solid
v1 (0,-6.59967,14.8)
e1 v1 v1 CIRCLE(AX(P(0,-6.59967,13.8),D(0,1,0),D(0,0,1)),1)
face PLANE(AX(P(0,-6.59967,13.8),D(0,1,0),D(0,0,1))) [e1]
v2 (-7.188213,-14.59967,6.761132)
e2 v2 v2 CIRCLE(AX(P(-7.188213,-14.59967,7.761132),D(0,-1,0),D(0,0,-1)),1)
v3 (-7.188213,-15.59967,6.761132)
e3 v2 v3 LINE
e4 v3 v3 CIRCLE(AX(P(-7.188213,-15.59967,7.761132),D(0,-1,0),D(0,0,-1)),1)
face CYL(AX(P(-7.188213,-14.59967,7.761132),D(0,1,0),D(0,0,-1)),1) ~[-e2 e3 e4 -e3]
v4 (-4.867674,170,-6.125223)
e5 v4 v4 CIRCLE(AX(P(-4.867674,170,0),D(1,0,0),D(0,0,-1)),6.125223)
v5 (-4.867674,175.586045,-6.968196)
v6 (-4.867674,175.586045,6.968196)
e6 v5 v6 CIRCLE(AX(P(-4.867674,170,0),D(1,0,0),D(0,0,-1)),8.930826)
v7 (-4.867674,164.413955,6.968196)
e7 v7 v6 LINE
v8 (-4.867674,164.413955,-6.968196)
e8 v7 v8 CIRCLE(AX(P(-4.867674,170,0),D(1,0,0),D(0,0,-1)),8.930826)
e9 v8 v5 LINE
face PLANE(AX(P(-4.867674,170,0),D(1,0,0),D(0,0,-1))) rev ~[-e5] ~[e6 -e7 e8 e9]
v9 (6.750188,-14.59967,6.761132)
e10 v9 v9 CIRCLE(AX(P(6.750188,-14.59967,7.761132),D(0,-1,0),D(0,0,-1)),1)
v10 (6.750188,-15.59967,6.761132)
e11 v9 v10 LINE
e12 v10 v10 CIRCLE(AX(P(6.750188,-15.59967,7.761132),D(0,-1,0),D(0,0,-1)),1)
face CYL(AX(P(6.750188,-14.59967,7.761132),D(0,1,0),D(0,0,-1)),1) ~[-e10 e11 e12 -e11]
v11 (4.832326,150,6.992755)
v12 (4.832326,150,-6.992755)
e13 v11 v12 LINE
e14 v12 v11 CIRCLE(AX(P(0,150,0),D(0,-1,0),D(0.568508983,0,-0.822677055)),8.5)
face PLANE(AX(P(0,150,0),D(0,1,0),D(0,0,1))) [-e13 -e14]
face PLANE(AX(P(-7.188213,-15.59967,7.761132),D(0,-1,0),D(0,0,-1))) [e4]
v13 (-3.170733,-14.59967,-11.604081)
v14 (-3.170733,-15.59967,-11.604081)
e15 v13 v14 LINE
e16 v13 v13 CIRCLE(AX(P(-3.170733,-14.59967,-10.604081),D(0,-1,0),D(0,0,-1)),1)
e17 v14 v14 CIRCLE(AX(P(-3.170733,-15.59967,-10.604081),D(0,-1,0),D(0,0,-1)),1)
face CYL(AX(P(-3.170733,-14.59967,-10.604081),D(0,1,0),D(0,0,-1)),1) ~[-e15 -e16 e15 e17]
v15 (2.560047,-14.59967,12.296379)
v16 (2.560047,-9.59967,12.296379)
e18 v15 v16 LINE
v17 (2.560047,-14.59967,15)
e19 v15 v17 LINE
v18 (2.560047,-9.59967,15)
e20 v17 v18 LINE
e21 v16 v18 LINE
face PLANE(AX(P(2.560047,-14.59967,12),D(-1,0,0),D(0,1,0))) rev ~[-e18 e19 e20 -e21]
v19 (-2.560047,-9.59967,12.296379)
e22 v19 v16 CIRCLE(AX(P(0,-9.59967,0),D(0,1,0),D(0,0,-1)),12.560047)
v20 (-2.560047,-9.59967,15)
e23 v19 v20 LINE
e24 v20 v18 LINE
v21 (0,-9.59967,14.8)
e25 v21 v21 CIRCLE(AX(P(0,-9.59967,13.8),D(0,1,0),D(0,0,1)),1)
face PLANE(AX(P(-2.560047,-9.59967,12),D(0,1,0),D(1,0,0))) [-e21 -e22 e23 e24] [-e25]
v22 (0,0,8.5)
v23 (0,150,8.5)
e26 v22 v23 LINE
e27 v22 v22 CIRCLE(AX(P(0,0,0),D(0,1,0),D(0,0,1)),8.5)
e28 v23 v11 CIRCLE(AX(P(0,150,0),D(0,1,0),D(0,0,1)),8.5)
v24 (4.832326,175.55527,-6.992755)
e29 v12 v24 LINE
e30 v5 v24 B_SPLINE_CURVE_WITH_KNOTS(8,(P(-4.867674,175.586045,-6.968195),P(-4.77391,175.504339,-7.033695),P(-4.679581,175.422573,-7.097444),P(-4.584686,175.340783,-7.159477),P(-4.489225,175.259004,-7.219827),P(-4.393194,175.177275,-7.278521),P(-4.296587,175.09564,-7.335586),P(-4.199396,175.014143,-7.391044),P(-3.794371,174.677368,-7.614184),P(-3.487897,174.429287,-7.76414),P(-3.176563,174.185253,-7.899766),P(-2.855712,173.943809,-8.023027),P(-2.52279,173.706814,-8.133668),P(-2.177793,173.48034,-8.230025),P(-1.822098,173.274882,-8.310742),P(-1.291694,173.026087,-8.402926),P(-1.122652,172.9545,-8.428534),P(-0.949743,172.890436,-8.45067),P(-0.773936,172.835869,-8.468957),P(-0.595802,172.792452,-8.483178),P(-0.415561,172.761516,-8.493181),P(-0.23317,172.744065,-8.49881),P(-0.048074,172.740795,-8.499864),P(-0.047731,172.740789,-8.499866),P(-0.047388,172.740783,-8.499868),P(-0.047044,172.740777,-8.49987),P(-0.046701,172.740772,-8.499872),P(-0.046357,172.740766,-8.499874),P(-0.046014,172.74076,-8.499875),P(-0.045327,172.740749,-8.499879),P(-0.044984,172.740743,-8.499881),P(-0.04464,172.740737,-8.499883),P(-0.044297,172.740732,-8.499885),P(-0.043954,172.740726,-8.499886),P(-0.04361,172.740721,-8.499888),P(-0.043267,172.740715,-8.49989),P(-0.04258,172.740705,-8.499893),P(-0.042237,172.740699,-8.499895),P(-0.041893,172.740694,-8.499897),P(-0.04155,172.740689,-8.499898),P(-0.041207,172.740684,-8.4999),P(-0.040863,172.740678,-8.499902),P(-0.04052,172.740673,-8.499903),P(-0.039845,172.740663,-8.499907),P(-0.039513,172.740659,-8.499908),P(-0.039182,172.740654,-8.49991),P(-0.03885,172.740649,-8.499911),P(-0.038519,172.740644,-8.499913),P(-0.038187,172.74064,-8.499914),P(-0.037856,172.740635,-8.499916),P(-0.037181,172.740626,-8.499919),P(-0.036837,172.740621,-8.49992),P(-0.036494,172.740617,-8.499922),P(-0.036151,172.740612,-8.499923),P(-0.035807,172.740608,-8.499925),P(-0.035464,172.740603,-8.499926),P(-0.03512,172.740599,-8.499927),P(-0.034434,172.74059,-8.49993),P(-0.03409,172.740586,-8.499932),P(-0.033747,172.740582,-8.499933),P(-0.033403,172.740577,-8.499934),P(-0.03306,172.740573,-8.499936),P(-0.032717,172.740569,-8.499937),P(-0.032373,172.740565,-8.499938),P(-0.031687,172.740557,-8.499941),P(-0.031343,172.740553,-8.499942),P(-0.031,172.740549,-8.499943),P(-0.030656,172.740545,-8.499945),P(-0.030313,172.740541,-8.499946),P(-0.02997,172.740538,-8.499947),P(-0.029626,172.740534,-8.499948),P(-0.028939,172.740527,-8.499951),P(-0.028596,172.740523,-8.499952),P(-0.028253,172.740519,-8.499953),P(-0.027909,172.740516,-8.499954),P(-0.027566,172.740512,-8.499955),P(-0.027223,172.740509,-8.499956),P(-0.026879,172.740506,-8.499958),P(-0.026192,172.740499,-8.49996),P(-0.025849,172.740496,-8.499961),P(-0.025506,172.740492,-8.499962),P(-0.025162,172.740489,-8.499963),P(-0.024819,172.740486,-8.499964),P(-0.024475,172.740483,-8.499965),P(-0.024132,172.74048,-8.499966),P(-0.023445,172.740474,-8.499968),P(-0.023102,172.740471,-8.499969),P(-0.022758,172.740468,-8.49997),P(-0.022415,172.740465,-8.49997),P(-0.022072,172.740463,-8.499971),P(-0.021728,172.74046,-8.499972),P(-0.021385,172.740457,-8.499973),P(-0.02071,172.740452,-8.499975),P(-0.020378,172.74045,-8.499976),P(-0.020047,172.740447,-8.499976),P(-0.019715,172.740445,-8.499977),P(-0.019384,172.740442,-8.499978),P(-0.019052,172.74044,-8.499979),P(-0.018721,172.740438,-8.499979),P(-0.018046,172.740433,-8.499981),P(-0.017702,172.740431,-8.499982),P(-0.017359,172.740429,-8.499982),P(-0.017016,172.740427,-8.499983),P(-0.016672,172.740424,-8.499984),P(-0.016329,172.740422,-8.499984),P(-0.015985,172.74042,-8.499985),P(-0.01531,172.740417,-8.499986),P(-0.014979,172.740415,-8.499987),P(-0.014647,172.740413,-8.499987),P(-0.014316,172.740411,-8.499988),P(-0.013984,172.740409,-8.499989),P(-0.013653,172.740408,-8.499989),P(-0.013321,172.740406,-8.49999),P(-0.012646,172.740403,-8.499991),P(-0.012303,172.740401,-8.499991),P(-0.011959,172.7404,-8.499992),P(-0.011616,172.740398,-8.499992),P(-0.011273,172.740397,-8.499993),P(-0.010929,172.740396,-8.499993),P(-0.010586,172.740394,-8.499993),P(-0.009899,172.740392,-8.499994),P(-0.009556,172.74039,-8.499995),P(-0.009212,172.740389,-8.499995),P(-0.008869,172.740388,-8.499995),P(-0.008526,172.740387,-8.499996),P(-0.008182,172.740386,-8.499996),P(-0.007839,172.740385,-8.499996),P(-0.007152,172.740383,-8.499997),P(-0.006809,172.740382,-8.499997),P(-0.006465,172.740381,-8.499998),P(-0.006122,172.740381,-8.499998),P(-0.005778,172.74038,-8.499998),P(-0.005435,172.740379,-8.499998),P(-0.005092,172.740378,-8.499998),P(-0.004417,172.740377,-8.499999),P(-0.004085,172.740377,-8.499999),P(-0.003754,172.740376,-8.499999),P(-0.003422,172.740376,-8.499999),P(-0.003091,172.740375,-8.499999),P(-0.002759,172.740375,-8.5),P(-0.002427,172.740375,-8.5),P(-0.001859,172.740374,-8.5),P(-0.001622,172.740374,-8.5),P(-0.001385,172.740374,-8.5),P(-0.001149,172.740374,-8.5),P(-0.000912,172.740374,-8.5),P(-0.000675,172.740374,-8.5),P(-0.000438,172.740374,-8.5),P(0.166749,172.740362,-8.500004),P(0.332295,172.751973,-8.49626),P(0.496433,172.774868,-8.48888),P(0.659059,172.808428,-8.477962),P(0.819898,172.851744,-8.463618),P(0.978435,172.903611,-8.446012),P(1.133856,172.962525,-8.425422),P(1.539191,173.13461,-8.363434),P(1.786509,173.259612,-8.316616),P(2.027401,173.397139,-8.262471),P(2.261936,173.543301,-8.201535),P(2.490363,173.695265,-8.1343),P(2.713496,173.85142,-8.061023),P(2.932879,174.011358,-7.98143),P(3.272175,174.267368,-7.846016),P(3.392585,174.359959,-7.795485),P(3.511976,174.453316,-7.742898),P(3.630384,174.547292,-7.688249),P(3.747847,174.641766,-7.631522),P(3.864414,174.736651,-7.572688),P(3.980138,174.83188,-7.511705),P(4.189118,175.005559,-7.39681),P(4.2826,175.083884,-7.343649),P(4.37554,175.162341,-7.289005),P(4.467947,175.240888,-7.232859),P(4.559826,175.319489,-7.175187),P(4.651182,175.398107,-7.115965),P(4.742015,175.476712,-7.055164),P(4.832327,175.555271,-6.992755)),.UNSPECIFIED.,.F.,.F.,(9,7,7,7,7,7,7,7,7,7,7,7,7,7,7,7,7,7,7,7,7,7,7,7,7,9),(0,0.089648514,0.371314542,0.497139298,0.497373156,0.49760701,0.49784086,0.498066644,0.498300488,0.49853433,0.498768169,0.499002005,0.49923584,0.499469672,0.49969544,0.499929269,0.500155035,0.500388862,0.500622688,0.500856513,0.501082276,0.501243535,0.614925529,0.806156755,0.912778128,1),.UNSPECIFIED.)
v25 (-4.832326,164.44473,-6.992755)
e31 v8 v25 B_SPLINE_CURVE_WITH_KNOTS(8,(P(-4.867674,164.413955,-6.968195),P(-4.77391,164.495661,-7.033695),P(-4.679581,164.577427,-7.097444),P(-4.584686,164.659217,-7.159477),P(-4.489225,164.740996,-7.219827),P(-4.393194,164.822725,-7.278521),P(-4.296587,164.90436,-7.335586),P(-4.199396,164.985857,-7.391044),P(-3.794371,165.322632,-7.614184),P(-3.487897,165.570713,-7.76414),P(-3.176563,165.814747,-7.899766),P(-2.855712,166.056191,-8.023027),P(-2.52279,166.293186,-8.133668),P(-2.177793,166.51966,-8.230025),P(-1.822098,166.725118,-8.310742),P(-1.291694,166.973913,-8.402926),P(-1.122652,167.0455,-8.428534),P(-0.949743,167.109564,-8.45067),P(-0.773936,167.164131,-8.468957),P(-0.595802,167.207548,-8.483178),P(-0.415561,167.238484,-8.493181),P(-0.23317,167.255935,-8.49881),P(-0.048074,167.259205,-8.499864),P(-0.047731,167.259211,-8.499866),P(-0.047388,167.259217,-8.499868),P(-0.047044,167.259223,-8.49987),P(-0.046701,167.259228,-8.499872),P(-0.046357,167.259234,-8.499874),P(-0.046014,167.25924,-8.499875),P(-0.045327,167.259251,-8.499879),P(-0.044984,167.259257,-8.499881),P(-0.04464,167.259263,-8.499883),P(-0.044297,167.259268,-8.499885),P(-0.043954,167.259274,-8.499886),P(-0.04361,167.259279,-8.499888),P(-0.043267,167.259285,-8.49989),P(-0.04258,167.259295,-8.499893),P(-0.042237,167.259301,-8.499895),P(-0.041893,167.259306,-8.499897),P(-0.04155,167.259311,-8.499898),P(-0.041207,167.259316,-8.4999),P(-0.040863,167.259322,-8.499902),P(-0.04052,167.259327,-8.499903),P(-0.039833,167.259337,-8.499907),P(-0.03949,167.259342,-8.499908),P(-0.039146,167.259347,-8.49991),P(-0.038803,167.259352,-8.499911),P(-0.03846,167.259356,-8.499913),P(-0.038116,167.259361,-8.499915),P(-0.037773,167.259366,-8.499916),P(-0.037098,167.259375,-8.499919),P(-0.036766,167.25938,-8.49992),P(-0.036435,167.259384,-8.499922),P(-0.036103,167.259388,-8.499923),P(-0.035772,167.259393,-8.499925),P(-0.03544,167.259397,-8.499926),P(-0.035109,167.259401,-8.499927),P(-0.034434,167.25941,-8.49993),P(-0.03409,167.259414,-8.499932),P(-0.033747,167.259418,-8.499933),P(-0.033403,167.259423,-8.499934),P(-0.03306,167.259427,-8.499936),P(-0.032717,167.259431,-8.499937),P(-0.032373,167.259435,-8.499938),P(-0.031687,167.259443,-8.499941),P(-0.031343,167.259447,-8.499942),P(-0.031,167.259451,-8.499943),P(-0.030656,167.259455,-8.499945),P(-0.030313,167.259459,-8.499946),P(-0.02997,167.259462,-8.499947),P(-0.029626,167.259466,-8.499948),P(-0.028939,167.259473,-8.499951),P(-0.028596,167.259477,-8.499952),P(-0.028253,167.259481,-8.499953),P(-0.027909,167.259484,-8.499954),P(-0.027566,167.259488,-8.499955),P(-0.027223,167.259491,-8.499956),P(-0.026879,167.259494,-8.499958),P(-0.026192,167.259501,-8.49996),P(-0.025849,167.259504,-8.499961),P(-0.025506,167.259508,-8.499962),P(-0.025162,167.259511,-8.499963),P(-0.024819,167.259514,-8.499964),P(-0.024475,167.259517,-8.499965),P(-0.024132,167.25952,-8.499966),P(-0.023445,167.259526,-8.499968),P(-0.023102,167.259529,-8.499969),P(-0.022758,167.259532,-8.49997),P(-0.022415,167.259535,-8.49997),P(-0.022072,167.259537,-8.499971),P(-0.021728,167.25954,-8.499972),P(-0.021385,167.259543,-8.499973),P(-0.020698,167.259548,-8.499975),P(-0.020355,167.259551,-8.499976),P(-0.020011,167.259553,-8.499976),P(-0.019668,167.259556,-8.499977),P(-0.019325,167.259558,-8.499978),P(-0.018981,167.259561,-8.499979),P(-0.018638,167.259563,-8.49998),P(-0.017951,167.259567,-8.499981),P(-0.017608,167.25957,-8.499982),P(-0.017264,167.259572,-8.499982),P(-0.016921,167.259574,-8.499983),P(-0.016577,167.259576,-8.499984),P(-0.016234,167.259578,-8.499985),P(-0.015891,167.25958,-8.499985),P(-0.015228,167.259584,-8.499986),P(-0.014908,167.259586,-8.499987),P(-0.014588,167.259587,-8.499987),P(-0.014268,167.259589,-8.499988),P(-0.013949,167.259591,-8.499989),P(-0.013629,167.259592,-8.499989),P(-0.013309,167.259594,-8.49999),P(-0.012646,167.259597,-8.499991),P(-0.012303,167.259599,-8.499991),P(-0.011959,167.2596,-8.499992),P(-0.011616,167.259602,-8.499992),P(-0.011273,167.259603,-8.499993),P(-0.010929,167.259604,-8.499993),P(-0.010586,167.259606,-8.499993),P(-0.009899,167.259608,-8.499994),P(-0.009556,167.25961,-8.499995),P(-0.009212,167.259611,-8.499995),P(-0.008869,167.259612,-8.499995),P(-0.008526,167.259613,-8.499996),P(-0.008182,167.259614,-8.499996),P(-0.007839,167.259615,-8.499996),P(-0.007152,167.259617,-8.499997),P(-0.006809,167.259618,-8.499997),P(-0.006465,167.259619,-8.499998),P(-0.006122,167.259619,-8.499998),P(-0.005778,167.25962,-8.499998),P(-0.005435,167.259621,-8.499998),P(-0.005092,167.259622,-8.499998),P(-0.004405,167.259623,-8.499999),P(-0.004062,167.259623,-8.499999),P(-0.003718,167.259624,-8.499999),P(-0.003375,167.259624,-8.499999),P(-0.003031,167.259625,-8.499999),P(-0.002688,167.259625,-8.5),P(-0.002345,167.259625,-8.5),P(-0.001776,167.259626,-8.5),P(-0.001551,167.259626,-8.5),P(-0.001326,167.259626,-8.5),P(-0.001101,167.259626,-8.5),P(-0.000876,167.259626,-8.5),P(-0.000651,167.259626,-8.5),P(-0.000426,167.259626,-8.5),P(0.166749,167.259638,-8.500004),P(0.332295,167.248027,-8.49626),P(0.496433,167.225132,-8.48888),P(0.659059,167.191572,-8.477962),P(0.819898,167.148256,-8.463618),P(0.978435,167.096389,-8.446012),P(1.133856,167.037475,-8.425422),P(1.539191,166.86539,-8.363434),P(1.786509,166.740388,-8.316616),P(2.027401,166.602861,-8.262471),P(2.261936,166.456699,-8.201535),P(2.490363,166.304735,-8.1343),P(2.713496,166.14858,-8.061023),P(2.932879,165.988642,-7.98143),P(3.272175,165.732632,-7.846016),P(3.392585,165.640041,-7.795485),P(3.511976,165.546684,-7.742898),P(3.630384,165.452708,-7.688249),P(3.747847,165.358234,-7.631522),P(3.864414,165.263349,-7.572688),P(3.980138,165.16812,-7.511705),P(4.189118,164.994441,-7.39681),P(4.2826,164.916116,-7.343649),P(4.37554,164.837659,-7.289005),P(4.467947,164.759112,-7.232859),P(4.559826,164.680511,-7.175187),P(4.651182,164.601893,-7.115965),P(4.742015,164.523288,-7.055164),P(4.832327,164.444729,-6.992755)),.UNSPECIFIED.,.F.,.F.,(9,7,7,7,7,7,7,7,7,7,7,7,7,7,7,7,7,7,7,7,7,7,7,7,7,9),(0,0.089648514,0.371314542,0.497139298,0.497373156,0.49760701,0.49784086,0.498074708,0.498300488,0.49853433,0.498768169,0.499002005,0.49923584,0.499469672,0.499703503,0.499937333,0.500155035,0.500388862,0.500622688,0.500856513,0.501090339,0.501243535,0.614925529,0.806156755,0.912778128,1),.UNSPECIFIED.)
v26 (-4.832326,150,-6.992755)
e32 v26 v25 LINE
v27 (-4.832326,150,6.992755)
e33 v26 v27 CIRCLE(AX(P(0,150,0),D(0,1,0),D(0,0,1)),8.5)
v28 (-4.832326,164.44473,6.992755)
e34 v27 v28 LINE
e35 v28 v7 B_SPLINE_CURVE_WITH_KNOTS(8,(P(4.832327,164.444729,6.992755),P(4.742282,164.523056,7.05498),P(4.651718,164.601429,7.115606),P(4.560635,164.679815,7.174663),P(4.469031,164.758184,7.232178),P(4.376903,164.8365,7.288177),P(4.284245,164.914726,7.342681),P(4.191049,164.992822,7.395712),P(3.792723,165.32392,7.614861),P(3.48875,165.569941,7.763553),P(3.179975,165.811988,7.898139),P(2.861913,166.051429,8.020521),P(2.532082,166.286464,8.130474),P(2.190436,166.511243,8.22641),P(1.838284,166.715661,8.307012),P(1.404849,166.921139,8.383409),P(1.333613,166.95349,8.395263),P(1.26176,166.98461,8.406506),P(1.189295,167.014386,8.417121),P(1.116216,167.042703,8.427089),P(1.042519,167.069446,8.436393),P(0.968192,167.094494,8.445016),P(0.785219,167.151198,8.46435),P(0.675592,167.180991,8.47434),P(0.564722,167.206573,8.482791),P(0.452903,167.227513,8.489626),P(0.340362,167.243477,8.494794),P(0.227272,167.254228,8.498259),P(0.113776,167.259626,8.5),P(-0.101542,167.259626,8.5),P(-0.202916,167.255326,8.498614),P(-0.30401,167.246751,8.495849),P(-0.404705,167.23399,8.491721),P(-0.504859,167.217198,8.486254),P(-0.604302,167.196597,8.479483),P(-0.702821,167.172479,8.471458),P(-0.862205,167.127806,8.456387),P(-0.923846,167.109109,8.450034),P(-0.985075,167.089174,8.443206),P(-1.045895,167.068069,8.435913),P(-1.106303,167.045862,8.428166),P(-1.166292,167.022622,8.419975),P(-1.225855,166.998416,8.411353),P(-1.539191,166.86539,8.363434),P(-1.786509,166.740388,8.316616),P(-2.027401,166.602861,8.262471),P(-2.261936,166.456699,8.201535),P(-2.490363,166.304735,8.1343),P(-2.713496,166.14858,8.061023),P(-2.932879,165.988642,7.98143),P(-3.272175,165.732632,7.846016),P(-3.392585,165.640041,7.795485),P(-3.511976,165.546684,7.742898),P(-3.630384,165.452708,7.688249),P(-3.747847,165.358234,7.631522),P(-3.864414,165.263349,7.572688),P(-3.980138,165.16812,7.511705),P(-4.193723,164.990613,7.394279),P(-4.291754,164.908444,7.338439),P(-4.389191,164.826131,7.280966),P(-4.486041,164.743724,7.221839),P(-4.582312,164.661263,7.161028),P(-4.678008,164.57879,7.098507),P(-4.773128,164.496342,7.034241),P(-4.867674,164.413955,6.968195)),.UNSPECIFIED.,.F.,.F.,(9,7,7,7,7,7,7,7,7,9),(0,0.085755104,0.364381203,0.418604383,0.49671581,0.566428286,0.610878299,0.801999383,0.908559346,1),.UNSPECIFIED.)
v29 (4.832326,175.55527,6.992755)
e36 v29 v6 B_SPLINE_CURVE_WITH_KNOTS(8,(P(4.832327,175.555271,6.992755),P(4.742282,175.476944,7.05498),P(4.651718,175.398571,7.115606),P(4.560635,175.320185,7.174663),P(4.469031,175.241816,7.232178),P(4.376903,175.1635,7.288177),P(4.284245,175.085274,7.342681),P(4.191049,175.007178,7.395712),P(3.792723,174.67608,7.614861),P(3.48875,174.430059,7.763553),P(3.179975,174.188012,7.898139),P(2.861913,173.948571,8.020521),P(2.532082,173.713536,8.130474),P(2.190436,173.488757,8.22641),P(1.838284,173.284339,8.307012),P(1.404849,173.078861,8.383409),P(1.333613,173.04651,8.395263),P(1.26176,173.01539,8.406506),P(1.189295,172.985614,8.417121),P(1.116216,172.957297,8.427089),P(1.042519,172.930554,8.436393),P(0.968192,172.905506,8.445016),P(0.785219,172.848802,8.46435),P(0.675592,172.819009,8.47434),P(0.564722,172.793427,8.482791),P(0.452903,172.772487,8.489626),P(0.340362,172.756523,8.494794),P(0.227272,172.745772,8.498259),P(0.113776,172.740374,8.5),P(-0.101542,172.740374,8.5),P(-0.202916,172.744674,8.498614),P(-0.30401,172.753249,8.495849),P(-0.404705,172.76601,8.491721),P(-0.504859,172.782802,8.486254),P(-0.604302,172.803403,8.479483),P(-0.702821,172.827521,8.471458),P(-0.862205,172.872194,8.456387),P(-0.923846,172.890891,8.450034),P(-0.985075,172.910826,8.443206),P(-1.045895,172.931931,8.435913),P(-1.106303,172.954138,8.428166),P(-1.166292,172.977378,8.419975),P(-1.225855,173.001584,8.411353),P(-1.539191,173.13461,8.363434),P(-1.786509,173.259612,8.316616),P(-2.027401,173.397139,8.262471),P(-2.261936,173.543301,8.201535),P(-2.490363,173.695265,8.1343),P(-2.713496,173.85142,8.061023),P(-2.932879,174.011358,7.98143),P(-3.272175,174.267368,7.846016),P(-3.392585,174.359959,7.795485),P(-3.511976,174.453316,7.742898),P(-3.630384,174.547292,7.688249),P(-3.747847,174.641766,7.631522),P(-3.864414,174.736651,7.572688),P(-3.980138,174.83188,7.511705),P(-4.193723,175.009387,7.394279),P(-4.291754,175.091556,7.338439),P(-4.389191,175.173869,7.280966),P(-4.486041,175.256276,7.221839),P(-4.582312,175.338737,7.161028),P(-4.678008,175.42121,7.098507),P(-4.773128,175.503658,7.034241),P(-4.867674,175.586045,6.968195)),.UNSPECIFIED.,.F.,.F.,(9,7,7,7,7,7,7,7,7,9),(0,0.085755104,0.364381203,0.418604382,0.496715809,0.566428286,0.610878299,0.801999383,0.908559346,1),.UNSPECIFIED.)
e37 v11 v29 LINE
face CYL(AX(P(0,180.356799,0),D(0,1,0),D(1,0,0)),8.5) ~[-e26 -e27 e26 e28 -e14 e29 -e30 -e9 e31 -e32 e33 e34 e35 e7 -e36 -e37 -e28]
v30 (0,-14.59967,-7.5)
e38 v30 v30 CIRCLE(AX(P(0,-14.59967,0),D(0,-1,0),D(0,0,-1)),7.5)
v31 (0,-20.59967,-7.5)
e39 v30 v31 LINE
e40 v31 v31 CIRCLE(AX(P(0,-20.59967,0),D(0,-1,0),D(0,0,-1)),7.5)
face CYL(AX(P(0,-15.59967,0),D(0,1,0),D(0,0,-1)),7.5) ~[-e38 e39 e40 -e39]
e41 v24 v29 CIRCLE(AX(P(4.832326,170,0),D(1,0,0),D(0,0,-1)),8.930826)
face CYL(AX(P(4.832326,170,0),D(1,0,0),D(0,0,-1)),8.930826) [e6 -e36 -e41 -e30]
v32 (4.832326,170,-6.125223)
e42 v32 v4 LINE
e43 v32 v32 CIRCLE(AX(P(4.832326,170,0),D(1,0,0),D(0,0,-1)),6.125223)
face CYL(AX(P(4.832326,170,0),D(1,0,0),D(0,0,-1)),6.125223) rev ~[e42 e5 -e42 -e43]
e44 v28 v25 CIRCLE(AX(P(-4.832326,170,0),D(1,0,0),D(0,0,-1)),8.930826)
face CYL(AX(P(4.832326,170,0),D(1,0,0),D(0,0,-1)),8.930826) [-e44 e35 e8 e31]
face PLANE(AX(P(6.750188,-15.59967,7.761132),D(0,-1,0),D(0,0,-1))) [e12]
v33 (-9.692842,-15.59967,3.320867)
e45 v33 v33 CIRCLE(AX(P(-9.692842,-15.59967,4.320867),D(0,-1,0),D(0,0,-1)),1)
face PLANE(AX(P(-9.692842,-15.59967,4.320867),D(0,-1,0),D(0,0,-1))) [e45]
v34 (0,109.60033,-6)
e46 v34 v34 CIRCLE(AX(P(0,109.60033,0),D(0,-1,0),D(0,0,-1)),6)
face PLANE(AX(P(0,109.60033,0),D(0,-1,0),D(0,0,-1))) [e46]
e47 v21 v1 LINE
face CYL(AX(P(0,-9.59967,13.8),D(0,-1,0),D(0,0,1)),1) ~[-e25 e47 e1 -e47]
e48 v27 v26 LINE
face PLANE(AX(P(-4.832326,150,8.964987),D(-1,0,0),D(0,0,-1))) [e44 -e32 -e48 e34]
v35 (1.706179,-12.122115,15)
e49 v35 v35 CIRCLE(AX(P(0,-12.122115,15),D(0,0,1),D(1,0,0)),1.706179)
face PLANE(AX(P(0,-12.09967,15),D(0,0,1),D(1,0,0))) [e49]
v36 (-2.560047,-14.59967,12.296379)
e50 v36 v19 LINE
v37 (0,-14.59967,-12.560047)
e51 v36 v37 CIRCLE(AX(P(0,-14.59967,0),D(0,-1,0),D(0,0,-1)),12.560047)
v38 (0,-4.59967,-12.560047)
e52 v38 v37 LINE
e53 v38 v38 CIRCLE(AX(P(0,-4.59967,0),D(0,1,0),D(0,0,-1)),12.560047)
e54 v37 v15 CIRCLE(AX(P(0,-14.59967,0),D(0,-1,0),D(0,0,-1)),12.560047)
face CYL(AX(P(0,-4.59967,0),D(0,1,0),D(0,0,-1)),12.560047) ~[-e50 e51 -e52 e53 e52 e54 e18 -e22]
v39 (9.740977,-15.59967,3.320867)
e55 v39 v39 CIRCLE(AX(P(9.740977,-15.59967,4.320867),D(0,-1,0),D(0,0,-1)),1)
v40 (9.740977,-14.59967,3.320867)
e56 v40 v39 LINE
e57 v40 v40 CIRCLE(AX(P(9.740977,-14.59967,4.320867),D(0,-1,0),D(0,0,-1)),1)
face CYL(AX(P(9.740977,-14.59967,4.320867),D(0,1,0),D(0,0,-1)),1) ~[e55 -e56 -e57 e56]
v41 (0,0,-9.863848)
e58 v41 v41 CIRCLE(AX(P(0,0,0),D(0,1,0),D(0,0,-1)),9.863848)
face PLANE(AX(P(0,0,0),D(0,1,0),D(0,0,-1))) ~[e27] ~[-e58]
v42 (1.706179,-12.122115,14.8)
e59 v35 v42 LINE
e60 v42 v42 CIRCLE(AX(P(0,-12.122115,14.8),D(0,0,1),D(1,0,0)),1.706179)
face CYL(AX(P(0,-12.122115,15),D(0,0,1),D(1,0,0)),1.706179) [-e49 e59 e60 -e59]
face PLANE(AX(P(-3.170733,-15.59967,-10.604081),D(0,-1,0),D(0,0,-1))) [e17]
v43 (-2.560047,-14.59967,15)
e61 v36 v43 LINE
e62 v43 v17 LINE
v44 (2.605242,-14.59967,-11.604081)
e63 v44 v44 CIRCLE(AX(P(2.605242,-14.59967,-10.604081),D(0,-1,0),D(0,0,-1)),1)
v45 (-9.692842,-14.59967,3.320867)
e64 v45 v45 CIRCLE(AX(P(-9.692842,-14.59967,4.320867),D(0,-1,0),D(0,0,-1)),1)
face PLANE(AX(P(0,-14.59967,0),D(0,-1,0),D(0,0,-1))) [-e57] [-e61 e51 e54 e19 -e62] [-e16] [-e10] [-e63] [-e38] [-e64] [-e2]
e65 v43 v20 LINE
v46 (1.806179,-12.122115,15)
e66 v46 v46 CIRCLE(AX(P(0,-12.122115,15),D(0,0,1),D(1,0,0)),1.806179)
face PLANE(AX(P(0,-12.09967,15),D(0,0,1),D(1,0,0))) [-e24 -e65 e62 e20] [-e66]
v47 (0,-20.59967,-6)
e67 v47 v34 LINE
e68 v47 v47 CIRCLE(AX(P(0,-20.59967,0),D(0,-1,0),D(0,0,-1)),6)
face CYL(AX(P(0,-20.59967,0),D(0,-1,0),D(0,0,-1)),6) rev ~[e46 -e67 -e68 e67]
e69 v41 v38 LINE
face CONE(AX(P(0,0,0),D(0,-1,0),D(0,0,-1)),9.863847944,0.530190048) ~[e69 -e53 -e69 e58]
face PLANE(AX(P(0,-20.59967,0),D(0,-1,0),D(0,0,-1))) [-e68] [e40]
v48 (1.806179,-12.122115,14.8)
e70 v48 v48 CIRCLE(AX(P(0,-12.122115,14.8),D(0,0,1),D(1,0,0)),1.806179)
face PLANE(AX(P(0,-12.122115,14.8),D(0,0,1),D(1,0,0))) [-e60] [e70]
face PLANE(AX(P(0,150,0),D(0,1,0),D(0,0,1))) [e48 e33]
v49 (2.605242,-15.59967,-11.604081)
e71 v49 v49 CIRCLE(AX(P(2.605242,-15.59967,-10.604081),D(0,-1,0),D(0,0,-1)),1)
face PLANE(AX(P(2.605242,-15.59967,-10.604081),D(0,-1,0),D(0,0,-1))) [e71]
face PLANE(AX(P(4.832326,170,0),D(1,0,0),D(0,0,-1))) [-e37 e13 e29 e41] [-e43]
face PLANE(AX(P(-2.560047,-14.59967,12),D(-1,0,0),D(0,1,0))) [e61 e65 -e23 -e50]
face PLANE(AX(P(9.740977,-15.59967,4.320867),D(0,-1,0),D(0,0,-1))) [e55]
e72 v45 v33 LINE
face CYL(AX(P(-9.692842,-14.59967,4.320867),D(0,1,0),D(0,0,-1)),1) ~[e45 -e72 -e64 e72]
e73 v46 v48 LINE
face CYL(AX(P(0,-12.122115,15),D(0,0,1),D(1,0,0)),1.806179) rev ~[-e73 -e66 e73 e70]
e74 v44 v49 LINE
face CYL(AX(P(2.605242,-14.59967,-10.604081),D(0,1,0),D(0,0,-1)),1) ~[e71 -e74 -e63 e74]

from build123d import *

# Parameters (mm, degrees)
SKETCH_1_R               = 8.5
EXTRUDE_1_DEPTH          = 150
SKETCH_2_W               = 9.66465271
SKETCH_2_H               = 17.929973808
EXTRUDE_2_DEPTH          = 20
SKETCH_3_R               = 8.930825741
EXTRUDE_3_DEPTH          = 9.7
SKETCH_4_R               = 6.125222913
CUT_EXTRUDE_1_DEPTH      = 9.7
CUT_EXTRUDE_2_DEPTH      = 180.35679912
CUT_EXTRUDE_2_DEPTH_BACK = 180.35679912
SKETCH_5_R               = 18.5
SKETCH_5_R_2             = 8.5
SKETCH_10_R              = 12.560047034
EXTRUDE_5_DEPTH          = 10
SKETCH_11_R              = 7.5
SKETCH_11_R_2            = 1
EXTRUDE_6_DEPTH          = 1
SKETCH_12_R              = 7.5
EXTRUDE_7_DEPTH          = 5
EXTRUDE_8_DEPTH          = 2
EXTRUDE_8_DEPTH_BACK     = 1
SKETCH_13_W              = 5.120094068
SKETCH_13_H              = 5
SKETCH_14_R              = 1
EXTRUDE_9_DEPTH          = 3
SKETCH_15_R              = 1.806178817
SKETCH_15_R_2            = 1.706178817
CUT_EXTRUDE_3_DEPTH      = 0.2
SKETCH_16_R              = 6
CUT_EXTRUDE_2_2_DEPTH    = 130.2


with BuildPart() as part:
    # 草圖1 → 填料-伸長1 (new body)
    with BuildSketch(Plane(origin=(0, 0, 0), x_dir=(1, 0, 0), z_dir=(0, 1, 0))):
        with Locations(Location((0, 0, 0), (0, 0, 270))):
            Circle(SKETCH_1_R)
    extrude(amount=EXTRUDE_1_DEPTH)

    # 草圖2 → 填料-伸長2 (add)
    with BuildSketch(Plane(origin=(0, 150, 0), x_dir=(1, 0, 0), z_dir=(0, 1, 0))):
        Rectangle(SKETCH_2_W, SKETCH_2_H)
    extrude(amount=EXTRUDE_2_DEPTH)

    # 草圖3 → 填料-伸長3 (add)
    with BuildSketch(Plane(origin=(4.832326355, 0, 0), x_dir=(0, 0, -1), z_dir=(1, 0, 0))):
        with Locations((0, 170)):
            Circle(SKETCH_3_R)
    extrude(amount=-EXTRUDE_3_DEPTH)

    # 草圖4 → 除料-伸長1 (cut)
    with BuildSketch(Plane(origin=(4.832326355, 0, 0), x_dir=(0, 0, -1), z_dir=(1, 0, 0))):
        with Locations((0, 170)):
            Circle(SKETCH_4_R)
    extrude(amount=-CUT_EXTRUDE_1_DEPTH, mode=Mode.SUBTRACT)

    # 草圖5 → Cut-Extrude 2 (cut, two sides: drawn at the far end of the back side and taken through both)
    with BuildSketch(Plane.XZ.offset(-CUT_EXTRUDE_2_DEPTH_BACK)):
        Circle(SKETCH_5_R)
        Circle(SKETCH_5_R_2, mode=Mode.SUBTRACT)
    extrude(amount=CUT_EXTRUDE_2_DEPTH + CUT_EXTRUDE_2_DEPTH_BACK, mode=Mode.SUBTRACT)

    # 草圖9 → 旋轉3 (revolve)
    with BuildSketch(Plane(origin=(0, 0, 0), x_dir=(0, 0, -1), z_dir=(1, 0, 0)), mode=Mode.PRIVATE) as revolve_3_sk:
        Polygon((0, 0), (-9.863847944, 0), (-12.560047034, -4.59966966), (0, -4.59966966), align=None)
    revolve(revolve_3_sk.sketch.rotate(Axis((0, -4.59966966, 0), (0, 1, 0)), 180), axis=Axis((0, -4.59966966, 0), (0, 1, 0)))

    # 草圖10 → 填料-伸長5 (add)
    with BuildSketch(Plane.XZ.offset(4.59966966)):
        with Locations(Location((0, 0, 0), (0, 0, 270))):
            Circle(SKETCH_10_R)
    extrude(amount=EXTRUDE_5_DEPTH)

    # 草圖11 → 填料-伸長6 (add)
    with BuildSketch(Plane.XZ.offset(14.59966966)):
        with Locations(Location((0, 0, 0), (0, 0, 270))):
            Circle(SKETCH_11_R)
        with Locations(Location((-7.188213253, 7.761132083, 0), (0, 0, 270))):
            Circle(SKETCH_11_R_2)
        with Locations(Location((-9.69284226, 4.320867156, 0), (0, 0, 270))):
            Circle(SKETCH_11_R_2)
        with Locations(Location((6.750188429, 7.761132083, 0), (0, 0, 270))):
            Circle(SKETCH_11_R_2)
        with Locations(Location((9.740976841, 4.320867156, 0), (0, 0, 270))):
            Circle(SKETCH_11_R_2)
        with Locations(Location((-3.170732664, -10.604081457, 0), (0, 0, 270))):
            Circle(SKETCH_11_R_2)
        with Locations(Location((2.605242012, -10.604081457, 0), (0, 0, 270))):
            Circle(SKETCH_11_R_2)
    extrude(amount=EXTRUDE_6_DEPTH)

    # 草圖12 → 填料-伸長7 (add)
    with BuildSketch(Plane.XZ.offset(15.59966966)):
        with Locations(Location((0, 0, 0), (0, 0, 270))):
            Circle(SKETCH_12_R)
    extrude(amount=EXTRUDE_7_DEPTH)

    # 草圖13 → 填料-伸長8 (add, two sides: drawn at the far end of the back side and taken through both)
    with BuildSketch(Plane.XY.offset(13).offset(-EXTRUDE_8_DEPTH_BACK)):
        with Locations((0, -12.09966966)):
            Rectangle(SKETCH_13_W, SKETCH_13_H)
    extrude(amount=EXTRUDE_8_DEPTH + EXTRUDE_8_DEPTH_BACK)

    # 草圖14 → 填料-伸長9 (add)
    with BuildSketch(Plane(origin=(0, -9.59966966, 0), x_dir=(1, 0, 0), z_dir=(0, 1, 0))):
        with Locations(Location((0, -13.8, 0), (0, 0, 270))):
            Circle(SKETCH_14_R)
    extrude(amount=EXTRUDE_9_DEPTH)

    # 草圖15 → 除料-伸長-薄件3 (cut)
    with BuildSketch(Plane.XY.offset(15)):
        with Locations((0, -12.122115246)):
            Circle(SKETCH_15_R)
        with Locations((0, -12.122115246)):
            Circle(SKETCH_15_R_2, mode=Mode.SUBTRACT)
    extrude(amount=-CUT_EXTRUDE_3_DEPTH, mode=Mode.SUBTRACT)

    # 草圖16 → Cut-Extrude 2 2 (cut)
    with BuildSketch(Plane.XZ.offset(20.59966966)):
        with Locations(Location((0, 0, 0), (0, 0, 270))):
            Circle(SKETCH_16_R)
    extrude(amount=-CUT_EXTRUDE_2_2_DEPTH, mode=Mode.SUBTRACT)


solid = part.part
